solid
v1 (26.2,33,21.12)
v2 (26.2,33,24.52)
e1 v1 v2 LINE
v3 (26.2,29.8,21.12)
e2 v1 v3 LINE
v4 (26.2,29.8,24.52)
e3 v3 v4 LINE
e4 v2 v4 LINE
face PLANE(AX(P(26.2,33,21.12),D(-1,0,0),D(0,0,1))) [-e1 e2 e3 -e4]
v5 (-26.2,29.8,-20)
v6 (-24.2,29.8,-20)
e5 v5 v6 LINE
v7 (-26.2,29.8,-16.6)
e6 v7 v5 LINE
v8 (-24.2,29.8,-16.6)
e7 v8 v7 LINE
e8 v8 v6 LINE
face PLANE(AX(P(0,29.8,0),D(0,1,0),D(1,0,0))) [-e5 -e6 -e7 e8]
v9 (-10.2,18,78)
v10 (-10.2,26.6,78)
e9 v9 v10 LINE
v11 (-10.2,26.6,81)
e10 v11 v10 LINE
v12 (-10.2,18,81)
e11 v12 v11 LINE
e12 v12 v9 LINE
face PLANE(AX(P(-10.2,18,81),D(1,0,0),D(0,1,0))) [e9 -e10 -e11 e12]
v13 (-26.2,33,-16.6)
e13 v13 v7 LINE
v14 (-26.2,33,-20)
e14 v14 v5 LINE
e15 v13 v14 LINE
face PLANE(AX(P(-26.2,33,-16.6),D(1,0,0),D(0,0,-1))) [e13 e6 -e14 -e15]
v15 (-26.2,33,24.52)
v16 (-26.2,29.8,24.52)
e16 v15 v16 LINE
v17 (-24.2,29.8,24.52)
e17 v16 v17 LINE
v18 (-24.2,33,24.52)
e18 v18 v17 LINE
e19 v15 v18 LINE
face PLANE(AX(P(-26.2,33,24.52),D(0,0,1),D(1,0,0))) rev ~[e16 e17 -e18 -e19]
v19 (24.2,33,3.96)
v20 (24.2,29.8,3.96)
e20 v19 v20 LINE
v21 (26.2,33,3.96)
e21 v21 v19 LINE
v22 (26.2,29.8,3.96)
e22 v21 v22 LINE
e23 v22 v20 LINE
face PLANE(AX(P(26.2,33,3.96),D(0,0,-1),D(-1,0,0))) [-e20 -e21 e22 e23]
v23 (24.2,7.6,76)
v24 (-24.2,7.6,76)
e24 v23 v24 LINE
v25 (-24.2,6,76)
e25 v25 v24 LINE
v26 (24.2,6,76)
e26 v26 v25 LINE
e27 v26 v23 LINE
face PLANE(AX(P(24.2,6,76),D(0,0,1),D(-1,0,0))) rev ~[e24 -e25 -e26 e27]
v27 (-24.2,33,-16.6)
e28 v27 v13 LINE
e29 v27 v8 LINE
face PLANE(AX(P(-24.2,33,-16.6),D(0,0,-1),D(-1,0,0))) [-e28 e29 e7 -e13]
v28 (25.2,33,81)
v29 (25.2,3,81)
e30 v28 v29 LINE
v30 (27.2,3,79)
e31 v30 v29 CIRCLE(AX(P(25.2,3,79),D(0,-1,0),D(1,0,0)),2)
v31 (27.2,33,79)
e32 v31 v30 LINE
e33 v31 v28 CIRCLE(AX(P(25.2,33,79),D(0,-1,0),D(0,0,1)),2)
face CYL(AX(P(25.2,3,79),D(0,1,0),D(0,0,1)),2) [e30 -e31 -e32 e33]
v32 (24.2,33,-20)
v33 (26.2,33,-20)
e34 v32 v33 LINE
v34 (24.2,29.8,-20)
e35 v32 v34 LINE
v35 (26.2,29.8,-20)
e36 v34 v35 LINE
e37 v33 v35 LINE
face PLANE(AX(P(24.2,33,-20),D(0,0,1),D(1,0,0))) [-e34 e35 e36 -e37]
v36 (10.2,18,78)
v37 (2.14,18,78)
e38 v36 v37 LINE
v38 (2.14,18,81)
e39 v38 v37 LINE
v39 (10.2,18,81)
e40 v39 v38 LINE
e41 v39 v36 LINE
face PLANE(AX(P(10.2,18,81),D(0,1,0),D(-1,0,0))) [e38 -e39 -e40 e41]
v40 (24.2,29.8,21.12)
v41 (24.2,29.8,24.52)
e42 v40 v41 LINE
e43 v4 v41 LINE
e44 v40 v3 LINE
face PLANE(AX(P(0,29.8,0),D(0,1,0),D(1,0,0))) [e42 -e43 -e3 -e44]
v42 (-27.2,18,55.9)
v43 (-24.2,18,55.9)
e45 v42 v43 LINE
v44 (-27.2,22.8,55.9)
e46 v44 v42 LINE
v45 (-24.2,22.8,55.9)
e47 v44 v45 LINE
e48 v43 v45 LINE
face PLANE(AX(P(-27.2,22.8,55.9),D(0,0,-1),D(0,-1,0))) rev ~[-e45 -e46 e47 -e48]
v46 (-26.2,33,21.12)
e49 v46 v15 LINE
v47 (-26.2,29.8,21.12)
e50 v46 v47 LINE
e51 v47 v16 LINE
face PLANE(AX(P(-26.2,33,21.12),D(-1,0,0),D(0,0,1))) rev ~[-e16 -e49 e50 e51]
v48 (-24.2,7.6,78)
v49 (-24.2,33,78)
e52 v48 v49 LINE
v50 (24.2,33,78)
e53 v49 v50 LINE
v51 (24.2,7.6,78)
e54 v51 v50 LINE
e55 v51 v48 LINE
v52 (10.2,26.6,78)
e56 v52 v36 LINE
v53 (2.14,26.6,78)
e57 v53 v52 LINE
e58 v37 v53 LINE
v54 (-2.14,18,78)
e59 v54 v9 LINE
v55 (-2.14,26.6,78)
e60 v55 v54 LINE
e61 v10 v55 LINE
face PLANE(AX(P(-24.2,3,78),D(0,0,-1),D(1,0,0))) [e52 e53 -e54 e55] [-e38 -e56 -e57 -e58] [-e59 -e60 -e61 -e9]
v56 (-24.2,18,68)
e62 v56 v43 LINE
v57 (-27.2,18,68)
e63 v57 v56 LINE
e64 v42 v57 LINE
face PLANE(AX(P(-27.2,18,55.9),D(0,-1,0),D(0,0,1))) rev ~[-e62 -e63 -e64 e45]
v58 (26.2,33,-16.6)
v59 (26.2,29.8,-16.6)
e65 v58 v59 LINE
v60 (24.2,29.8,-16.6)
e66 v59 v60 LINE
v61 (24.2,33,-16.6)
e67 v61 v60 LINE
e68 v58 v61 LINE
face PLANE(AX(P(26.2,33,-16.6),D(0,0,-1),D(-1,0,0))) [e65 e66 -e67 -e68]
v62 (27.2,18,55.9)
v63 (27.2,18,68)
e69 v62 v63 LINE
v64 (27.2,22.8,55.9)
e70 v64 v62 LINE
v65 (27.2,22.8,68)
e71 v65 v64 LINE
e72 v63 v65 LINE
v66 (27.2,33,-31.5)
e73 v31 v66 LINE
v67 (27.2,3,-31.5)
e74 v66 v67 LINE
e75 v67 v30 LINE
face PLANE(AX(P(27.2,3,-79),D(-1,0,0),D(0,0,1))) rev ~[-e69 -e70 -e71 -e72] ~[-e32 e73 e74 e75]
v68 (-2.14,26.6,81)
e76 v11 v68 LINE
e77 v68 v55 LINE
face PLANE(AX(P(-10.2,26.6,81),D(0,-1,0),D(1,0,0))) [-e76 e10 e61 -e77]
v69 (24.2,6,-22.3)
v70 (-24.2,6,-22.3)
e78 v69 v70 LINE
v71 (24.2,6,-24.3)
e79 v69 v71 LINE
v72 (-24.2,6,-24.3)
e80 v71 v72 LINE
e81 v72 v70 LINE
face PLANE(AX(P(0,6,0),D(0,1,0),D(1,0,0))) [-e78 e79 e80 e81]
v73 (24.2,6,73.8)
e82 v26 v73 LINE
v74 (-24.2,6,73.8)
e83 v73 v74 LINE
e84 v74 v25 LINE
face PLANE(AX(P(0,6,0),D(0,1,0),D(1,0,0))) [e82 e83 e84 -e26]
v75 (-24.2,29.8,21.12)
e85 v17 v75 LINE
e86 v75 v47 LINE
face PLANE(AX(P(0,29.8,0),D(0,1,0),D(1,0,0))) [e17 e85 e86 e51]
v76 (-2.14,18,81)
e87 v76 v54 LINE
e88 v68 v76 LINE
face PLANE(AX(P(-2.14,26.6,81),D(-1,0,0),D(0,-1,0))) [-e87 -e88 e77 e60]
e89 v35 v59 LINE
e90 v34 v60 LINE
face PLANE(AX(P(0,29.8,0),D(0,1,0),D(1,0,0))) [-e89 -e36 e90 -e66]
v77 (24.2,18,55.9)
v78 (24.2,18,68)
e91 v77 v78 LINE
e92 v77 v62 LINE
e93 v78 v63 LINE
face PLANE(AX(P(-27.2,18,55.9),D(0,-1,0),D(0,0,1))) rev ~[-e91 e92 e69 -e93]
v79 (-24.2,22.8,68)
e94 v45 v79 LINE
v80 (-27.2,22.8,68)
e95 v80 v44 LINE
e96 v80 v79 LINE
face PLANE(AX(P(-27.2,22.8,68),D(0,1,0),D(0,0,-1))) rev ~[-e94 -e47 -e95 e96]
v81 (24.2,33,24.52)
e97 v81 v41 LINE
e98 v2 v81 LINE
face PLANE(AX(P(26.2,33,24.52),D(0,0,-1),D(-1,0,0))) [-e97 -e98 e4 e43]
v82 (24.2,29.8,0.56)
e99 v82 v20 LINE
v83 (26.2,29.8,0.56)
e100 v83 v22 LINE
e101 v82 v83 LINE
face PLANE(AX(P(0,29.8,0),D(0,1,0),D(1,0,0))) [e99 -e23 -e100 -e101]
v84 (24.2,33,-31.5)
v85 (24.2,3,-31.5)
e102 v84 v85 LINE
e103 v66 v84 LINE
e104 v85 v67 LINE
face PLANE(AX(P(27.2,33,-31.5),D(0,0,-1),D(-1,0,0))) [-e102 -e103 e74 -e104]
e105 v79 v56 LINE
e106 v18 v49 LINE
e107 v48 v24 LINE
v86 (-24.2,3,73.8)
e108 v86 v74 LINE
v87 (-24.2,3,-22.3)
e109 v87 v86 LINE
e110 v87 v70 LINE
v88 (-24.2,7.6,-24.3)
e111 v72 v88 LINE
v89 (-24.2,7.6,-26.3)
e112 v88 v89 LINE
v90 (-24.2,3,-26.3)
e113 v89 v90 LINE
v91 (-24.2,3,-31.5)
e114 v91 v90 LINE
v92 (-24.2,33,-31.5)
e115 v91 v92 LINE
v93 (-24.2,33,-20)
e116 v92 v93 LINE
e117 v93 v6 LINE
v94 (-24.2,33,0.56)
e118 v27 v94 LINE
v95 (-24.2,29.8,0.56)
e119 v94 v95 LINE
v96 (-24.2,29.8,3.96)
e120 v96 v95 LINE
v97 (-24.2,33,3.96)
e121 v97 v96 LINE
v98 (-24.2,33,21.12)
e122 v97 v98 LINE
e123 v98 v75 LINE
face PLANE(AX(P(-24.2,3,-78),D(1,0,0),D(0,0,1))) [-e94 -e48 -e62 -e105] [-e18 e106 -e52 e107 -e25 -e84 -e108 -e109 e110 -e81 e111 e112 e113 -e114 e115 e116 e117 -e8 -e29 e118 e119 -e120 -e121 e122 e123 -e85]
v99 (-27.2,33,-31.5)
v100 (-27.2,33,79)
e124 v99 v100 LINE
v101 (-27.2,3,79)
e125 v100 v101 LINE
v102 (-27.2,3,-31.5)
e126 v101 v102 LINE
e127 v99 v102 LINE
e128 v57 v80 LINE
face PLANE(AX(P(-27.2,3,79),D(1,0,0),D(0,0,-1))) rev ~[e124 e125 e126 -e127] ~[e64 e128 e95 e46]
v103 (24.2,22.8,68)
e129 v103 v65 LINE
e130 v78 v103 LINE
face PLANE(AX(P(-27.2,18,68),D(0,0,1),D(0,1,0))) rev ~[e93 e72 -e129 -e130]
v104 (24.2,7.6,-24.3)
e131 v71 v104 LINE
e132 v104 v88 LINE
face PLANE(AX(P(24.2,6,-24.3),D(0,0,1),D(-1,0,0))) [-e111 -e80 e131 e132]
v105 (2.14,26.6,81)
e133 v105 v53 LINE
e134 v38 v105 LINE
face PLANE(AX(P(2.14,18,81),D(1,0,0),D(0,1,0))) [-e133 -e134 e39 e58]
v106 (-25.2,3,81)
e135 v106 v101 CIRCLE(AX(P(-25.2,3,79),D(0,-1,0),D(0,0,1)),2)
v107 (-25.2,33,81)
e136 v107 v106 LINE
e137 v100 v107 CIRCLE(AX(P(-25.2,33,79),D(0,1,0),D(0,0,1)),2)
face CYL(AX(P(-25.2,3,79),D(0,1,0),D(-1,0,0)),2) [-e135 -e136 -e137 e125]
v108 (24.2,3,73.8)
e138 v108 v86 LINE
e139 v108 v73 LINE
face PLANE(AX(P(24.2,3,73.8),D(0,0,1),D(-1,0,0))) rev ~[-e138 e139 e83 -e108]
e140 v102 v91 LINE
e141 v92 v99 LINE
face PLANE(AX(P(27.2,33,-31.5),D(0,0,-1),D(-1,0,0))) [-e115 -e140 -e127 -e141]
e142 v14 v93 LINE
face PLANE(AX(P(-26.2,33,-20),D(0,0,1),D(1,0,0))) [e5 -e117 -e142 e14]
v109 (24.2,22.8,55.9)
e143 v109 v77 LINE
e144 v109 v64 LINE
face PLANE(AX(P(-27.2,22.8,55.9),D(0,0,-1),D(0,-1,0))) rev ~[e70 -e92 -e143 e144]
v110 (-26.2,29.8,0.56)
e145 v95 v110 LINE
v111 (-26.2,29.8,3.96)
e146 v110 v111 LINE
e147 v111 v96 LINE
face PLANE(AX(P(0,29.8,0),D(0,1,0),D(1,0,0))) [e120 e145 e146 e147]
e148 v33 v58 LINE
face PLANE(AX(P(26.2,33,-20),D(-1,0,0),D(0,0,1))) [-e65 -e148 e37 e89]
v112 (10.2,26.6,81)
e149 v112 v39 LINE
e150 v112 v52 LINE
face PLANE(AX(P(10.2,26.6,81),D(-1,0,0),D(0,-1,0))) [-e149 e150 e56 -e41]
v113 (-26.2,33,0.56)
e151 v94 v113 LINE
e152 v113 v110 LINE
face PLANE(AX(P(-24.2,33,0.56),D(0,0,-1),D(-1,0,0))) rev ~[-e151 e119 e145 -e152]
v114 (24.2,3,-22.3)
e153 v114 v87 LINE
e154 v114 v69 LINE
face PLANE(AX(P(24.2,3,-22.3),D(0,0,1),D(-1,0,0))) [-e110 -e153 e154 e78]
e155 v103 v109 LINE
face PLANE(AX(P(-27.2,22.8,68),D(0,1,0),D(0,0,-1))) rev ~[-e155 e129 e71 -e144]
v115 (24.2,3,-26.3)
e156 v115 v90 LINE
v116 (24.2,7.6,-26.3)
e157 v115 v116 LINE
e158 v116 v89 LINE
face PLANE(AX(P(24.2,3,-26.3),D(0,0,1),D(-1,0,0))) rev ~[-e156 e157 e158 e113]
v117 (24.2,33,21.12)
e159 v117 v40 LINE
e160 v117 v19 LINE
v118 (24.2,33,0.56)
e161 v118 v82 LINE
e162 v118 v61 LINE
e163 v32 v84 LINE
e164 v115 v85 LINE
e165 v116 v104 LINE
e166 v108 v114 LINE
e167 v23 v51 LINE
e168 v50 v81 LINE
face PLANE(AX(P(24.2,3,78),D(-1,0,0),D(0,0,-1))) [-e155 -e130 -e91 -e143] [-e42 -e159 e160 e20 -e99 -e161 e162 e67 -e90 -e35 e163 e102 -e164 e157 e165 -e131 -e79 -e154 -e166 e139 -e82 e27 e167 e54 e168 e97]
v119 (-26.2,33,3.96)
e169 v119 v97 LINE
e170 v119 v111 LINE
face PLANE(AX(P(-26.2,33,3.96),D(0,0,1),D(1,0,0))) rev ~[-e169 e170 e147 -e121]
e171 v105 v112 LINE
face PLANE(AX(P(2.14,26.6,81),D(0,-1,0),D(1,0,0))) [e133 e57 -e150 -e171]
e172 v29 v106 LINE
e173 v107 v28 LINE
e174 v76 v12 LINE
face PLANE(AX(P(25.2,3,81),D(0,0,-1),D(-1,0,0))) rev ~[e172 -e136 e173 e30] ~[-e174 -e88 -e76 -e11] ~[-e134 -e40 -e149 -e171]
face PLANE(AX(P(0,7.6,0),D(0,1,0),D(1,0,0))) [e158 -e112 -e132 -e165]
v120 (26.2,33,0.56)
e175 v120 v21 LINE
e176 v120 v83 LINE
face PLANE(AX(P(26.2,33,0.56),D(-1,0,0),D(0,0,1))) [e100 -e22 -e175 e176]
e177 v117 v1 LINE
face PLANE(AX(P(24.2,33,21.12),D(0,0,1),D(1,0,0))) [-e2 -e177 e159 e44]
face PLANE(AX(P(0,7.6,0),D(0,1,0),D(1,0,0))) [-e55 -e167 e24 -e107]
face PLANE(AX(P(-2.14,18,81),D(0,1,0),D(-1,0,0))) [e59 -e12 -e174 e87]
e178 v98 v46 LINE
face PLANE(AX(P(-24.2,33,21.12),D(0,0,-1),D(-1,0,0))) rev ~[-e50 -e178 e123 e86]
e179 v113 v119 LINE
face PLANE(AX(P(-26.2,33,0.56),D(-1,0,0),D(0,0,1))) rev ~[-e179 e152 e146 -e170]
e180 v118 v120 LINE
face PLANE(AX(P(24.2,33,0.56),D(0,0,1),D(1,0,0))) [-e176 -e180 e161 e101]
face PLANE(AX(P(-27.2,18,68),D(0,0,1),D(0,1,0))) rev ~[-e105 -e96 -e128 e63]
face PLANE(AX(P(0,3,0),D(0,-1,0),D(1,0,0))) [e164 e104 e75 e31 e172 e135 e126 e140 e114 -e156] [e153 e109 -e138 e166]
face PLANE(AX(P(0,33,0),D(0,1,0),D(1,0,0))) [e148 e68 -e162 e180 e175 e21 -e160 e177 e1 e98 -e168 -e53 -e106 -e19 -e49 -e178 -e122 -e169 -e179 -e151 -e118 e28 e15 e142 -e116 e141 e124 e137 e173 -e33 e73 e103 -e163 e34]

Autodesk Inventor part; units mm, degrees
ref_plane "YZ Plane" through (0, 0, 0) normal (1, 0, 0) x (0, 1, 0)
ref_plane "XZ Plane" through (0, 0, 0) normal (0, 1, 0) x (-1, 0, 0)
ref_plane "XY Plane" through (0, 0, 0) normal (0, 0, 1) x (1, 0, 0)
sketch "Sketch2" plane through (0, 0, 0) normal (0, 1, 0) x (-1, 0, 0)
  line L0 (-30.2, -84) -> (30.2, -84)
  line L1 (30.2, -84) -> (30.2, 84)
  line L2 (30.2, 84) -> (-30.2, 84)
  line L3 (-30.2, 84) -> (-30.2, -84)
  line L4 (-30.2, -84) -> (30.2, 84) construction
  line L5 (30.2, -84) -> (-30.2, 84) construction
  point P0 (0, 0)
  dimension "d0" = 60.4
  dimension "d1" = 168
extrude "Extrusion1" add sketch "Sketch2" along normal blind 3
sketch "Sketch3" plane through (0, 3, 0) normal (0, 1, 0) x (1, 0, 0)
  line L0 (27.2, 81) -> (-27.2, 81)
  line L1 (-27.2, 81) -> (-27.2, -81)
  line L2 (-27.2, -81) -> (27.2, -81)
  line L3 (27.2, -81) -> (27.2, 81)
  line L4 (27.2, 81) -> (-27.2, -81) construction
  line L5 (-27.2, 81) -> (27.2, -81) construction
  line L6 (-30.2, 84) -> (-30.2, -84) projected
  line L7 (-30.2, -84) -> (30.2, -84) projected
  line L8 (24.2, 78) -> (-24.2, 78)
  line L9 (-24.2, 78) -> (-24.2, -78)
  line L10 (-24.2, -78) -> (24.2, -78)
  line L11 (24.2, -78) -> (24.2, 78)
  line L12 (24.2, 78) -> (-24.2, -78) construction
  line L13 (-24.2, 78) -> (24.2, -78) construction
  point P0 (0, 0)
  dimension "d4" = 3
  dimension "d5" = 3
  dimension "d6" = 3
  dimension "d7" = 3
extrude "Extrusion2" add sketch "Sketch3" along normal blind 30
fillet "Fillet1" radius 2 8 edges at (27.2, 18, 81) (-27.2, 18, 81) (-30.2, 1.5, 84) (30.2, 1.5, 84) (27.2, 18, -81) (-27.2, 18, -81) (30.2, 1.5, -84) (-30.2, 1.5, -84)
sketch "Sketch10" plane through (0, 3, 0) normal (0, 1, 0) x (1, 0, 0)
  line L0 (24.2, 78) -> (-24.2, 78) projected
  line L1 (-24.2, 78) -> (-24.2, -78) projected
  line L2 (-24.2, -78) -> (24.2, -78) projected
  line L3 (24.2, -78) -> (24.2, 78) projected
  line L4 (-24.2, -78) -> (24.2, -78)
  line L5 (24.2, -78) -> (24.2, -73.8)
  line L6 (24.2, -73.8) -> (-24.2, -73.8)
  line L7 (-24.2, -73.8) -> (-24.2, -78)
  line L8 (-24.2, -73.8) -> (24.2, -73.8)
  line L9 (24.2, -73.8) -> (24.2, 22.3)
  line L10 (24.2, 22.3) -> (-24.2, 22.3)
  line L11 (-24.2, 22.3) -> (-24.2, -73.8)
  line L12 (-24.2, 22.3) -> (24.2, 22.3)
  line L13 (24.2, 22.3) -> (24.2, 26.3)
  line L14 (24.2, 26.3) -> (-24.2, 26.3)
  line L15 (-24.2, 26.3) -> (-24.2, 22.3)
  point P0 (0, 0)
  point P1 (-24.2, 26.3)
  point P2 (-24.2, 22.3)
  dimension "d90" = 4.2
  dimension "d91" = 96.1
  dimension "d92" = 4
extrude "Extrusion9" add sketch "Sketch10" along normal blind 3 contours L3 L10 L1 L14 | L3 L2 L1 L6
sketch "Sketch11" plane through (0, 6, 0) normal (0, 1, 0) x (1, 0, 0)
  line L0 (-24.2, 22.3) -> (-24.2, 26.3) projected
  line L1 (-24.2, 22.3) -> (24.2, 22.3) projected
  line L2 (24.2, 26.3) -> (24.2, 22.3) projected
  line L3 (24.2, 26.3) -> (-24.2, 26.3) projected
  line L4 (-24.2, -78) -> (-24.2, -73.8) projected
  line L5 (24.2, -78) -> (-24.2, -78) projected
  line L6 (24.2, -73.8) -> (24.2, -78) projected
  line L7 (24.2, -73.8) -> (-24.2, -73.8) projected
  line L8 (24.2, 26.3) -> (-24.2, 26.3) projected
  line L9 (-24.2, 26.3) -> (24.2, 26.3)
  line L10 (24.2, 26.3) -> (24.2, 24.3)
  line L11 (24.2, 24.3) -> (-24.2, 24.3)
  line L12 (-24.2, 24.3) -> (-24.2, 26.3)
  line L13 (24.2, 26.3) -> (24.2, -78) projected
  line L14 (-24.2, -78) -> (24.2, -78)
  line L15 (24.2, -78) -> (24.2, -76)
  line L16 (24.2, -76) -> (-24.2, -76)
  line L17 (-24.2, -76) -> (-24.2, -78)
  line L18 (-24.2, 22.3) -> (-24.2, 26.3) projected
  line L19 (-24.2, 22.3) -> (24.2, 22.3) projected
  line L20 (24.2, 26.3) -> (-24.2, 26.3) projected
  line L21 (24.2, 26.3) -> (24.2, 22.3) projected
  point P0 (0, 0)
  point P1 (24.2, -72.6)
  point P2 (-24.2, 24.3)
  point P3 (-24.2, -76)
  point P4 (-24.2, -76)
  dimension "d95" = 2
  dimension "d120" = 2
extrude "Extrusion10" add sketch "Sketch11" along normal blind 1.6 contours L0 L3 L2 L11 | L6 L5 L4 L16
sketch "Sketch12" plane through (-25.2, 3, 81) normal (0, 0, 1) x (1, 0, 0)
  line L0 (-2, 30) -> (-2, 0) projected
  line L1 (0, 30) -> (50.4, 30) projected
  line L2 (-2, 30) -> (0, 30) projected
  line L3 (50.4, 30) -> (52.4, 30) projected
  line L4 (52.4, 0) -> (52.4, 30) projected
  line L5 (50.4, 0) -> (0, 0) projected
  line L6 (0, 0) -> (-2, 0) projected
  line L7 (52.4, 0) -> (50.4, 0) projected
  line L8 (15, 23.6) -> (23.06, 23.6)
  line L9 (23.06, 23.6) -> (23.06, 15)
  line L10 (23.06, 15) -> (15, 15)
  line L11 (15, 15) -> (15, 23.6)
  line L12 (27.34, 23.6) -> (35.4, 23.6)
  line L13 (35.4, 23.6) -> (35.4, 15)
  line L14 (35.4, 15) -> (27.34, 15)
  line L15 (27.34, 15) -> (27.34, 23.6)
  point P0 (25.2, -3)
  dimension "d116" = 8.06
  dimension "d117" = 8.6
  dimension "d118" = 15
  dimension "d119" = 17
  dimension "d121" = 8.06
  dimension "d122" = 8.6
  dimension "d123" = 15
  dimension "d124" = 17
extrude "Extrusion11" cut sketch "Sketch12" against normal blind 3 contours L8 L9 L10 L11 | L12 L13 L14 L15
sketch "Sketch13" plane through (0, 3, 0) normal (0, 1, 0) x (1, 0, 0)
  arc A0 (-28.2, 84) -> (-30.2, 82) centre (-28.2, 82) ccw projected
  line L0 (-30.2, 82) -> (-30.2, -82) projected
  arc A1 (-30.2, -82) -> (-28.2, -84) centre (-28.2, -82) ccw projected
  line L1 (-28.2, -84) -> (28.2, -84) projected
  arc A2 (28.2, -84) -> (30.2, -82) centre (28.2, -82) ccw projected
  line L2 (30.2, -82) -> (30.2, 82) projected
  arc A3 (30.2, 82) -> (28.2, 84) centre (28.2, 82) ccw projected
  line L3 (28.2, 84) -> (-28.2, 84) projected
  line L4 (-25.2, 81) -> (25.2, 81) projected
  arc A4 (27.2, 79) -> (25.2, 81) centre (25.2, 79) ccw projected
  line L5 (27.2, 79) -> (27.2, -79) projected
  arc A5 (25.2, -81) -> (27.2, -79) centre (25.2, -79) ccw projected
  line L6 (25.2, -81) -> (-25.2, -81) projected
  arc A6 (-27.2, -79) -> (-25.2, -81) centre (-25.2, -79) ccw projected
  line L7 (-27.2, -79) -> (-27.2, 79) projected
  arc A7 (-25.2, 81) -> (-27.2, 79) centre (-25.2, 79) ccw projected
  point P0 (0, 0)
extrude "Extrusion12" cut sketch "Sketch13" against normal blind 3
sketch "Sketch14" plane through (25.2, 33, -81) normal (0, 0, -1) x (-1, 0, 0)
  line L0 (1, -10) -> (49.4, -10)
  line L1 (49.4, -10) -> (49.4, -19.6)
  line L2 (49.4, -19.6) -> (1, -19.6)
  line L3 (1, -19.6) -> (1, -10)
  line L4 (52.4, -33) -> (52.4, 0) projected
  line L5 (-2, 0) -> (-2, -33) projected
  line L6 (50.4, 0) -> (50.4, -33) projected
  line L7 (50.4, -33) -> (0, -33) projected
  point P0 (25.2, -33)
  point P1 (50.4, -16.5)
  point P2 (49.4, -14.8)
  dimension "d127" = 9.6
  dimension "d128" = 3
  dimension "d129" = 3
  dimension "d140" = 23
extrude "Extrusion13" add sketch "Sketch14" along normal blind 6
sketch "Sketch15" plane through (-24.2, 13.4, -81) normal (-1, 0, 0) x (0, 0, 1)
  line L0 (0, 9.6) -> (-6, 9.6) projected
  line L1 (0, 9.6) -> (-3.4, 9.6)
  line L2 (-3.4, 9.6) -> (-3.4, 6.6)
  line L3 (-3.4, 6.6) -> (0, 6.6)
  line L4 (0, 6.6) -> (0, 9.6)
  line L5 (0, 9.6) -> (0, 0) projected
  line L6 (0, 9.6) -> (-6, 9.6) projected
  line L7 (-6, 0) -> (-6, 9.6) projected
  line L8 (0, 0) -> (-6, 0) projected
  line L9 (0, 0) -> (-3.4, 0)
  line L10 (-3.4, 0) -> (-3.4, 3)
  line L11 (-3.4, 3) -> (0, 3)
  line L12 (0, 3) -> (0, 0)
  point P0 (81, -13.4)
  point P1 (-3.4, 0)
  dimension "d133" = 3.4
  dimension "d134" = 3
  dimension "d135" = 3.4
  dimension "d136" = 3
extrude "Extrusion14" cut sketch "Sketch15" against normal up to surface (48.4 mm away) contours L4 L3 L2 L0 | L5 L8 L10 L11
fillet "Fillet8" radius 1 18 edges at (0, 23, -87) (0, 23, -84.4) (0, 13.4, -87) (0, 13.4, -84.4) (-24.2, 14.9, -84.4) (-24.2, 18.2, -87) (-24.2, 21.5, -84.4) (-24.2, 23, -85.7) (-24.2, 13.4, -85.7) (-24.2, 16.4, -82.7) (-24.2, 20, -82.7) (24.2, 20, -82.7) (24.2, 16.4, -82.7) (24.2, 14.9, -84.4) (24.2, 21.5, -84.4) (24.2, 23, -85.7) (24.2, 18.2, -87) (24.2, 13.4, -85.7)
sketch "Sketch16" plane through (-27.2, 0, -79) normal (-1, 0, 0) x (0, 0, 1)
  line L0 (147, 22.8) -> (134.9, 22.8)
  line L1 (134.9, 22.8) -> (134.9, 18)
  line L2 (134.9, 18) -> (147, 18)
  line L3 (147, 18) -> (147, 22.8)
  line L4 (160, 3) -> (160, 33) projected
  line L5 (152, 0) -> (0, 0) projected
  point P0 (79, 0)
  point P1 (154, 0)
  dimension "d141" = 12.1
  dimension "d142" = 4.8
  dimension "d143" = 13
  dimension "d144" = 18
extrude "Extrusion15" cut sketch "Sketch16" against normal through all
sketch "Sketch17" plane through (0, 33, 0) normal (0, 1, 0) x (1, 0, 0)
  arc A0 (-25.2, 81) -> (-27.2, 79) centre (-25.2, 79) ccw projected
  line L0 (-27.2, 79) -> (-27.2, -79) projected
  arc A1 (-27.2, -79) -> (-25.2, -81) centre (-25.2, -79) ccw projected
  line L1 (-25.2, -81) -> (25.2, -81) projected
  arc A2 (25.2, -81) -> (27.2, -79) centre (25.2, -79) ccw projected
  line L2 (27.2, -79) -> (27.2, 79) projected
  arc A3 (27.2, 79) -> (25.2, 81) centre (25.2, 79) ccw projected
  line L3 (25.2, 81) -> (-25.2, 81) projected
  line L4 (24.2, 78) -> (24.2, -78) projected
  line L5 (24.2, -78) -> (-24.2, -78) projected
  line L6 (-24.2, -78) -> (-24.2, 78) projected
  line L7 (-24.2, 78) -> (24.2, 78) projected
  line L8 (-26.2, 20) -> (-24.2, 20)
  line L9 (-24.2, 20) -> (-24.2, 16.6)
  line L10 (-24.2, 16.6) -> (-26.2, 16.6)
  line L11 (-26.2, 16.6) -> (-26.2, 20)
  line L12 (-24.2, -0.56) -> (-26.2, -0.56)
  line L13 (-26.2, -0.56) -> (-26.2, -3.96)
  line L14 (-26.2, -3.96) -> (-24.2, -3.96)
  line L15 (-24.2, -3.96) -> (-24.2, -0.56)
  line L16 (-24.2, 22.3) -> (-24.2, 26.3) projected
  line L17 (-24.2, -21.12) -> (-26.2, -21.12)
  line L18 (-26.2, -21.12) -> (-26.2, -24.52)
  line L19 (-26.2, -24.52) -> (-24.2, -24.52)
  line L20 (-24.2, -24.52) -> (-24.2, -21.12)
  line L21 (24.2, 20) -> (26.2, 20)
  line L22 (26.2, 20) -> (26.2, 16.6)
  line L23 (26.2, 16.6) -> (24.2, 16.6)
  line L24 (24.2, 16.6) -> (24.2, 20)
  line L25 (24.2, -0.56) -> (26.2, -0.56)
  line L26 (26.2, -0.56) -> (26.2, -3.96)
  line L27 (26.2, -3.96) -> (24.2, -3.96)
  line L28 (24.2, -3.96) -> (24.2, -0.56)
  line L29 (24.2, -21.12) -> (26.2, -21.12)
  line L30 (26.2, -21.12) -> (26.2, -24.52)
  line L31 (26.2, -24.52) -> (24.2, -24.52)
  line L32 (24.2, -24.52) -> (24.2, -21.12)
  point P0 (0, 0)
  point P1 (-24.2, 16.6)
  point P2 (-24.2, -73.8)
  point P3 (24.2, 16.6)
  point P4 (24.2, -3.96)
  point P5 (24.2, -24.52)
  point P6 (-24.2, -24.52)
  point P7 (-24.2, -21.12)
  point P8 (-24.2, -3.96)
  dimension "d147" = 2
  dimension "d148" = 3.4
  dimension "d149" = 61
  dimension "d150" = 0
  dimension "d153" = 2
  dimension "d154" = 3.4
  dimension "d155" = 20.56
  dimension "d156" = 2
  dimension "d157" = 3.4
  dimension "d158" = 20.56
  dimension "d159" = 2
  dimension "d160" = 3.4
  dimension "d161" = 2
  dimension "d162" = 3.4
  dimension "d163" = 2
  dimension "d164" = 3.4
  dimension "d165" = 20.56
  dimension "d166" = 20.56
  dimension "d167" = 61
extrude "Extrusion16" cut sketch "Sketch17" against normal blind 3.2 contours L21 L22 L23 L4 | L25 L26 L27 L4 | L6 L10 L11 L8 | L29 L30 L31 L4 | L6 L14 L13 L12 | L6 L19 L18 L17
sketch "Sketch18" plane through (0, 33, 0) normal (0, 1, 0) x (1, 0, 0)
  line L0 (24.2, -21.12) -> (26.2, -21.12) projected
  line L1 (26.2, -21.12) -> (26.2, -24.52) projected
  line L2 (26.2, -24.52) -> (24.2, -24.52) projected
  line L3 (24.2, -24.52) -> (24.2, -78) projected
  line L4 (24.2, -78) -> (-24.2, -78) projected
  line L5 (-24.2, -78) -> (-24.2, -24.52) projected
  line L6 (-24.2, -24.52) -> (-26.2, -24.52) projected
  line L7 (-26.2, -24.52) -> (-26.2, -21.12) projected
  line L8 (-26.2, -21.12) -> (-24.2, -21.12) projected
  line L9 (-24.2, -21.12) -> (-24.2, -3.96) projected
  line L10 (-24.2, -3.96) -> (-26.2, -3.96) projected
  line L11 (-26.2, -3.96) -> (-26.2, -0.56) projected
  line L12 (-26.2, -0.56) -> (-24.2, -0.56) projected
  line L13 (-24.2, -0.56) -> (-24.2, 16.6) projected
  line L14 (-24.2, 16.6) -> (-26.2, 16.6) projected
  line L15 (-26.2, 16.6) -> (-26.2, 20) projected
  line L16 (-26.2, 20) -> (-24.2, 20) projected
  line L17 (-24.2, 20) -> (-24.2, 78) projected
  line L18 (-24.2, 78) -> (24.2, 78) projected
  line L19 (24.2, 78) -> (24.2, 20) projected
  line L20 (24.2, 20) -> (26.2, 20) projected
  line L21 (26.2, 20) -> (26.2, 16.6) projected
  line L22 (26.2, 16.6) -> (24.2, 16.6) projected
  line L23 (24.2, 16.6) -> (24.2, -0.56) projected
  line L24 (24.2, -0.56) -> (26.2, -0.56) projected
  line L25 (26.2, -0.56) -> (26.2, -3.96) projected
  line L26 (26.2, -3.96) -> (24.2, -3.96) projected
  line L27 (24.2, -3.96) -> (24.2, -21.12) projected
  arc A0 (-25.2, 81) -> (-27.2, 79) centre (-25.2, 79) ccw projected
  line L28 (-27.2, 79) -> (-27.2, -79) projected
  arc A1 (-27.2, -79) -> (-25.2, -81) centre (-25.2, -79) ccw projected
  line L29 (-25.2, -81) -> (25.2, -81) projected
  arc A2 (25.2, -81) -> (27.2, -79) centre (25.2, -79) ccw projected
  line L30 (27.2, -79) -> (27.2, 79) projected
  arc A3 (27.2, 79) -> (25.2, 81) centre (25.2, 79) ccw projected
  line L31 (25.2, 81) -> (-25.2, 81) projected
  line L32 (27.2, 31.5) -> (-27.2, 31.5)
  line L33 (-27.2, 31.5) -> (-27.2, 181.5)
  line L34 (-27.2, 181.5) -> (27.2, 181.5)
  line L35 (27.2, 181.5) -> (27.2, 31.5)
  line L36 (24.2, -55.9) -> (27.2, -55.9) projected
  line L37 (24.2, 26.5) -> (-24.2, 26.5) projected
  point P0 (0, 0)
  point P1 (27.2, 79)
  point P2 (24.2, 26.3)
  point P3 (-24.2, 26.3)
  dimension "d168" = 150
  dimension "d179" = 5
extrude "Extrusion17" cut sketch "Sketch18" against normal through all contours L32 L19 L18 L17 L28 A0 L31 A3 L30 | A3 L31 A0 L33 L34 L35 | L32 L17 L18 L19
sketch "Sketch19" plane through (0, 0, 0) normal (0, -1, 0) x (1, 0, 0)
  line L0 (-27.2, -31.5) -> (27.2, -31.5) projected
  line L1 (27.2, -31.5) -> (27.2, 79) projected
  arc A0 (27.2, 79) -> (25.2, 81) centre (25.2, 79) ccw projected
  line L2 (25.2, 81) -> (-25.2, 81) projected
  arc A1 (-25.2, 81) -> (-27.2, 79) centre (-25.2, 79) ccw projected
  line L3 (-27.2, 79) -> (-27.2, -31.5) projected
  point P0 (0, 0)
extrude "Extrusion18" cut sketch "Sketch19" against normal blind 3
equation "\"d167\" = d149"
properties part number "module_switch" material "PC/ABS Plastic"
